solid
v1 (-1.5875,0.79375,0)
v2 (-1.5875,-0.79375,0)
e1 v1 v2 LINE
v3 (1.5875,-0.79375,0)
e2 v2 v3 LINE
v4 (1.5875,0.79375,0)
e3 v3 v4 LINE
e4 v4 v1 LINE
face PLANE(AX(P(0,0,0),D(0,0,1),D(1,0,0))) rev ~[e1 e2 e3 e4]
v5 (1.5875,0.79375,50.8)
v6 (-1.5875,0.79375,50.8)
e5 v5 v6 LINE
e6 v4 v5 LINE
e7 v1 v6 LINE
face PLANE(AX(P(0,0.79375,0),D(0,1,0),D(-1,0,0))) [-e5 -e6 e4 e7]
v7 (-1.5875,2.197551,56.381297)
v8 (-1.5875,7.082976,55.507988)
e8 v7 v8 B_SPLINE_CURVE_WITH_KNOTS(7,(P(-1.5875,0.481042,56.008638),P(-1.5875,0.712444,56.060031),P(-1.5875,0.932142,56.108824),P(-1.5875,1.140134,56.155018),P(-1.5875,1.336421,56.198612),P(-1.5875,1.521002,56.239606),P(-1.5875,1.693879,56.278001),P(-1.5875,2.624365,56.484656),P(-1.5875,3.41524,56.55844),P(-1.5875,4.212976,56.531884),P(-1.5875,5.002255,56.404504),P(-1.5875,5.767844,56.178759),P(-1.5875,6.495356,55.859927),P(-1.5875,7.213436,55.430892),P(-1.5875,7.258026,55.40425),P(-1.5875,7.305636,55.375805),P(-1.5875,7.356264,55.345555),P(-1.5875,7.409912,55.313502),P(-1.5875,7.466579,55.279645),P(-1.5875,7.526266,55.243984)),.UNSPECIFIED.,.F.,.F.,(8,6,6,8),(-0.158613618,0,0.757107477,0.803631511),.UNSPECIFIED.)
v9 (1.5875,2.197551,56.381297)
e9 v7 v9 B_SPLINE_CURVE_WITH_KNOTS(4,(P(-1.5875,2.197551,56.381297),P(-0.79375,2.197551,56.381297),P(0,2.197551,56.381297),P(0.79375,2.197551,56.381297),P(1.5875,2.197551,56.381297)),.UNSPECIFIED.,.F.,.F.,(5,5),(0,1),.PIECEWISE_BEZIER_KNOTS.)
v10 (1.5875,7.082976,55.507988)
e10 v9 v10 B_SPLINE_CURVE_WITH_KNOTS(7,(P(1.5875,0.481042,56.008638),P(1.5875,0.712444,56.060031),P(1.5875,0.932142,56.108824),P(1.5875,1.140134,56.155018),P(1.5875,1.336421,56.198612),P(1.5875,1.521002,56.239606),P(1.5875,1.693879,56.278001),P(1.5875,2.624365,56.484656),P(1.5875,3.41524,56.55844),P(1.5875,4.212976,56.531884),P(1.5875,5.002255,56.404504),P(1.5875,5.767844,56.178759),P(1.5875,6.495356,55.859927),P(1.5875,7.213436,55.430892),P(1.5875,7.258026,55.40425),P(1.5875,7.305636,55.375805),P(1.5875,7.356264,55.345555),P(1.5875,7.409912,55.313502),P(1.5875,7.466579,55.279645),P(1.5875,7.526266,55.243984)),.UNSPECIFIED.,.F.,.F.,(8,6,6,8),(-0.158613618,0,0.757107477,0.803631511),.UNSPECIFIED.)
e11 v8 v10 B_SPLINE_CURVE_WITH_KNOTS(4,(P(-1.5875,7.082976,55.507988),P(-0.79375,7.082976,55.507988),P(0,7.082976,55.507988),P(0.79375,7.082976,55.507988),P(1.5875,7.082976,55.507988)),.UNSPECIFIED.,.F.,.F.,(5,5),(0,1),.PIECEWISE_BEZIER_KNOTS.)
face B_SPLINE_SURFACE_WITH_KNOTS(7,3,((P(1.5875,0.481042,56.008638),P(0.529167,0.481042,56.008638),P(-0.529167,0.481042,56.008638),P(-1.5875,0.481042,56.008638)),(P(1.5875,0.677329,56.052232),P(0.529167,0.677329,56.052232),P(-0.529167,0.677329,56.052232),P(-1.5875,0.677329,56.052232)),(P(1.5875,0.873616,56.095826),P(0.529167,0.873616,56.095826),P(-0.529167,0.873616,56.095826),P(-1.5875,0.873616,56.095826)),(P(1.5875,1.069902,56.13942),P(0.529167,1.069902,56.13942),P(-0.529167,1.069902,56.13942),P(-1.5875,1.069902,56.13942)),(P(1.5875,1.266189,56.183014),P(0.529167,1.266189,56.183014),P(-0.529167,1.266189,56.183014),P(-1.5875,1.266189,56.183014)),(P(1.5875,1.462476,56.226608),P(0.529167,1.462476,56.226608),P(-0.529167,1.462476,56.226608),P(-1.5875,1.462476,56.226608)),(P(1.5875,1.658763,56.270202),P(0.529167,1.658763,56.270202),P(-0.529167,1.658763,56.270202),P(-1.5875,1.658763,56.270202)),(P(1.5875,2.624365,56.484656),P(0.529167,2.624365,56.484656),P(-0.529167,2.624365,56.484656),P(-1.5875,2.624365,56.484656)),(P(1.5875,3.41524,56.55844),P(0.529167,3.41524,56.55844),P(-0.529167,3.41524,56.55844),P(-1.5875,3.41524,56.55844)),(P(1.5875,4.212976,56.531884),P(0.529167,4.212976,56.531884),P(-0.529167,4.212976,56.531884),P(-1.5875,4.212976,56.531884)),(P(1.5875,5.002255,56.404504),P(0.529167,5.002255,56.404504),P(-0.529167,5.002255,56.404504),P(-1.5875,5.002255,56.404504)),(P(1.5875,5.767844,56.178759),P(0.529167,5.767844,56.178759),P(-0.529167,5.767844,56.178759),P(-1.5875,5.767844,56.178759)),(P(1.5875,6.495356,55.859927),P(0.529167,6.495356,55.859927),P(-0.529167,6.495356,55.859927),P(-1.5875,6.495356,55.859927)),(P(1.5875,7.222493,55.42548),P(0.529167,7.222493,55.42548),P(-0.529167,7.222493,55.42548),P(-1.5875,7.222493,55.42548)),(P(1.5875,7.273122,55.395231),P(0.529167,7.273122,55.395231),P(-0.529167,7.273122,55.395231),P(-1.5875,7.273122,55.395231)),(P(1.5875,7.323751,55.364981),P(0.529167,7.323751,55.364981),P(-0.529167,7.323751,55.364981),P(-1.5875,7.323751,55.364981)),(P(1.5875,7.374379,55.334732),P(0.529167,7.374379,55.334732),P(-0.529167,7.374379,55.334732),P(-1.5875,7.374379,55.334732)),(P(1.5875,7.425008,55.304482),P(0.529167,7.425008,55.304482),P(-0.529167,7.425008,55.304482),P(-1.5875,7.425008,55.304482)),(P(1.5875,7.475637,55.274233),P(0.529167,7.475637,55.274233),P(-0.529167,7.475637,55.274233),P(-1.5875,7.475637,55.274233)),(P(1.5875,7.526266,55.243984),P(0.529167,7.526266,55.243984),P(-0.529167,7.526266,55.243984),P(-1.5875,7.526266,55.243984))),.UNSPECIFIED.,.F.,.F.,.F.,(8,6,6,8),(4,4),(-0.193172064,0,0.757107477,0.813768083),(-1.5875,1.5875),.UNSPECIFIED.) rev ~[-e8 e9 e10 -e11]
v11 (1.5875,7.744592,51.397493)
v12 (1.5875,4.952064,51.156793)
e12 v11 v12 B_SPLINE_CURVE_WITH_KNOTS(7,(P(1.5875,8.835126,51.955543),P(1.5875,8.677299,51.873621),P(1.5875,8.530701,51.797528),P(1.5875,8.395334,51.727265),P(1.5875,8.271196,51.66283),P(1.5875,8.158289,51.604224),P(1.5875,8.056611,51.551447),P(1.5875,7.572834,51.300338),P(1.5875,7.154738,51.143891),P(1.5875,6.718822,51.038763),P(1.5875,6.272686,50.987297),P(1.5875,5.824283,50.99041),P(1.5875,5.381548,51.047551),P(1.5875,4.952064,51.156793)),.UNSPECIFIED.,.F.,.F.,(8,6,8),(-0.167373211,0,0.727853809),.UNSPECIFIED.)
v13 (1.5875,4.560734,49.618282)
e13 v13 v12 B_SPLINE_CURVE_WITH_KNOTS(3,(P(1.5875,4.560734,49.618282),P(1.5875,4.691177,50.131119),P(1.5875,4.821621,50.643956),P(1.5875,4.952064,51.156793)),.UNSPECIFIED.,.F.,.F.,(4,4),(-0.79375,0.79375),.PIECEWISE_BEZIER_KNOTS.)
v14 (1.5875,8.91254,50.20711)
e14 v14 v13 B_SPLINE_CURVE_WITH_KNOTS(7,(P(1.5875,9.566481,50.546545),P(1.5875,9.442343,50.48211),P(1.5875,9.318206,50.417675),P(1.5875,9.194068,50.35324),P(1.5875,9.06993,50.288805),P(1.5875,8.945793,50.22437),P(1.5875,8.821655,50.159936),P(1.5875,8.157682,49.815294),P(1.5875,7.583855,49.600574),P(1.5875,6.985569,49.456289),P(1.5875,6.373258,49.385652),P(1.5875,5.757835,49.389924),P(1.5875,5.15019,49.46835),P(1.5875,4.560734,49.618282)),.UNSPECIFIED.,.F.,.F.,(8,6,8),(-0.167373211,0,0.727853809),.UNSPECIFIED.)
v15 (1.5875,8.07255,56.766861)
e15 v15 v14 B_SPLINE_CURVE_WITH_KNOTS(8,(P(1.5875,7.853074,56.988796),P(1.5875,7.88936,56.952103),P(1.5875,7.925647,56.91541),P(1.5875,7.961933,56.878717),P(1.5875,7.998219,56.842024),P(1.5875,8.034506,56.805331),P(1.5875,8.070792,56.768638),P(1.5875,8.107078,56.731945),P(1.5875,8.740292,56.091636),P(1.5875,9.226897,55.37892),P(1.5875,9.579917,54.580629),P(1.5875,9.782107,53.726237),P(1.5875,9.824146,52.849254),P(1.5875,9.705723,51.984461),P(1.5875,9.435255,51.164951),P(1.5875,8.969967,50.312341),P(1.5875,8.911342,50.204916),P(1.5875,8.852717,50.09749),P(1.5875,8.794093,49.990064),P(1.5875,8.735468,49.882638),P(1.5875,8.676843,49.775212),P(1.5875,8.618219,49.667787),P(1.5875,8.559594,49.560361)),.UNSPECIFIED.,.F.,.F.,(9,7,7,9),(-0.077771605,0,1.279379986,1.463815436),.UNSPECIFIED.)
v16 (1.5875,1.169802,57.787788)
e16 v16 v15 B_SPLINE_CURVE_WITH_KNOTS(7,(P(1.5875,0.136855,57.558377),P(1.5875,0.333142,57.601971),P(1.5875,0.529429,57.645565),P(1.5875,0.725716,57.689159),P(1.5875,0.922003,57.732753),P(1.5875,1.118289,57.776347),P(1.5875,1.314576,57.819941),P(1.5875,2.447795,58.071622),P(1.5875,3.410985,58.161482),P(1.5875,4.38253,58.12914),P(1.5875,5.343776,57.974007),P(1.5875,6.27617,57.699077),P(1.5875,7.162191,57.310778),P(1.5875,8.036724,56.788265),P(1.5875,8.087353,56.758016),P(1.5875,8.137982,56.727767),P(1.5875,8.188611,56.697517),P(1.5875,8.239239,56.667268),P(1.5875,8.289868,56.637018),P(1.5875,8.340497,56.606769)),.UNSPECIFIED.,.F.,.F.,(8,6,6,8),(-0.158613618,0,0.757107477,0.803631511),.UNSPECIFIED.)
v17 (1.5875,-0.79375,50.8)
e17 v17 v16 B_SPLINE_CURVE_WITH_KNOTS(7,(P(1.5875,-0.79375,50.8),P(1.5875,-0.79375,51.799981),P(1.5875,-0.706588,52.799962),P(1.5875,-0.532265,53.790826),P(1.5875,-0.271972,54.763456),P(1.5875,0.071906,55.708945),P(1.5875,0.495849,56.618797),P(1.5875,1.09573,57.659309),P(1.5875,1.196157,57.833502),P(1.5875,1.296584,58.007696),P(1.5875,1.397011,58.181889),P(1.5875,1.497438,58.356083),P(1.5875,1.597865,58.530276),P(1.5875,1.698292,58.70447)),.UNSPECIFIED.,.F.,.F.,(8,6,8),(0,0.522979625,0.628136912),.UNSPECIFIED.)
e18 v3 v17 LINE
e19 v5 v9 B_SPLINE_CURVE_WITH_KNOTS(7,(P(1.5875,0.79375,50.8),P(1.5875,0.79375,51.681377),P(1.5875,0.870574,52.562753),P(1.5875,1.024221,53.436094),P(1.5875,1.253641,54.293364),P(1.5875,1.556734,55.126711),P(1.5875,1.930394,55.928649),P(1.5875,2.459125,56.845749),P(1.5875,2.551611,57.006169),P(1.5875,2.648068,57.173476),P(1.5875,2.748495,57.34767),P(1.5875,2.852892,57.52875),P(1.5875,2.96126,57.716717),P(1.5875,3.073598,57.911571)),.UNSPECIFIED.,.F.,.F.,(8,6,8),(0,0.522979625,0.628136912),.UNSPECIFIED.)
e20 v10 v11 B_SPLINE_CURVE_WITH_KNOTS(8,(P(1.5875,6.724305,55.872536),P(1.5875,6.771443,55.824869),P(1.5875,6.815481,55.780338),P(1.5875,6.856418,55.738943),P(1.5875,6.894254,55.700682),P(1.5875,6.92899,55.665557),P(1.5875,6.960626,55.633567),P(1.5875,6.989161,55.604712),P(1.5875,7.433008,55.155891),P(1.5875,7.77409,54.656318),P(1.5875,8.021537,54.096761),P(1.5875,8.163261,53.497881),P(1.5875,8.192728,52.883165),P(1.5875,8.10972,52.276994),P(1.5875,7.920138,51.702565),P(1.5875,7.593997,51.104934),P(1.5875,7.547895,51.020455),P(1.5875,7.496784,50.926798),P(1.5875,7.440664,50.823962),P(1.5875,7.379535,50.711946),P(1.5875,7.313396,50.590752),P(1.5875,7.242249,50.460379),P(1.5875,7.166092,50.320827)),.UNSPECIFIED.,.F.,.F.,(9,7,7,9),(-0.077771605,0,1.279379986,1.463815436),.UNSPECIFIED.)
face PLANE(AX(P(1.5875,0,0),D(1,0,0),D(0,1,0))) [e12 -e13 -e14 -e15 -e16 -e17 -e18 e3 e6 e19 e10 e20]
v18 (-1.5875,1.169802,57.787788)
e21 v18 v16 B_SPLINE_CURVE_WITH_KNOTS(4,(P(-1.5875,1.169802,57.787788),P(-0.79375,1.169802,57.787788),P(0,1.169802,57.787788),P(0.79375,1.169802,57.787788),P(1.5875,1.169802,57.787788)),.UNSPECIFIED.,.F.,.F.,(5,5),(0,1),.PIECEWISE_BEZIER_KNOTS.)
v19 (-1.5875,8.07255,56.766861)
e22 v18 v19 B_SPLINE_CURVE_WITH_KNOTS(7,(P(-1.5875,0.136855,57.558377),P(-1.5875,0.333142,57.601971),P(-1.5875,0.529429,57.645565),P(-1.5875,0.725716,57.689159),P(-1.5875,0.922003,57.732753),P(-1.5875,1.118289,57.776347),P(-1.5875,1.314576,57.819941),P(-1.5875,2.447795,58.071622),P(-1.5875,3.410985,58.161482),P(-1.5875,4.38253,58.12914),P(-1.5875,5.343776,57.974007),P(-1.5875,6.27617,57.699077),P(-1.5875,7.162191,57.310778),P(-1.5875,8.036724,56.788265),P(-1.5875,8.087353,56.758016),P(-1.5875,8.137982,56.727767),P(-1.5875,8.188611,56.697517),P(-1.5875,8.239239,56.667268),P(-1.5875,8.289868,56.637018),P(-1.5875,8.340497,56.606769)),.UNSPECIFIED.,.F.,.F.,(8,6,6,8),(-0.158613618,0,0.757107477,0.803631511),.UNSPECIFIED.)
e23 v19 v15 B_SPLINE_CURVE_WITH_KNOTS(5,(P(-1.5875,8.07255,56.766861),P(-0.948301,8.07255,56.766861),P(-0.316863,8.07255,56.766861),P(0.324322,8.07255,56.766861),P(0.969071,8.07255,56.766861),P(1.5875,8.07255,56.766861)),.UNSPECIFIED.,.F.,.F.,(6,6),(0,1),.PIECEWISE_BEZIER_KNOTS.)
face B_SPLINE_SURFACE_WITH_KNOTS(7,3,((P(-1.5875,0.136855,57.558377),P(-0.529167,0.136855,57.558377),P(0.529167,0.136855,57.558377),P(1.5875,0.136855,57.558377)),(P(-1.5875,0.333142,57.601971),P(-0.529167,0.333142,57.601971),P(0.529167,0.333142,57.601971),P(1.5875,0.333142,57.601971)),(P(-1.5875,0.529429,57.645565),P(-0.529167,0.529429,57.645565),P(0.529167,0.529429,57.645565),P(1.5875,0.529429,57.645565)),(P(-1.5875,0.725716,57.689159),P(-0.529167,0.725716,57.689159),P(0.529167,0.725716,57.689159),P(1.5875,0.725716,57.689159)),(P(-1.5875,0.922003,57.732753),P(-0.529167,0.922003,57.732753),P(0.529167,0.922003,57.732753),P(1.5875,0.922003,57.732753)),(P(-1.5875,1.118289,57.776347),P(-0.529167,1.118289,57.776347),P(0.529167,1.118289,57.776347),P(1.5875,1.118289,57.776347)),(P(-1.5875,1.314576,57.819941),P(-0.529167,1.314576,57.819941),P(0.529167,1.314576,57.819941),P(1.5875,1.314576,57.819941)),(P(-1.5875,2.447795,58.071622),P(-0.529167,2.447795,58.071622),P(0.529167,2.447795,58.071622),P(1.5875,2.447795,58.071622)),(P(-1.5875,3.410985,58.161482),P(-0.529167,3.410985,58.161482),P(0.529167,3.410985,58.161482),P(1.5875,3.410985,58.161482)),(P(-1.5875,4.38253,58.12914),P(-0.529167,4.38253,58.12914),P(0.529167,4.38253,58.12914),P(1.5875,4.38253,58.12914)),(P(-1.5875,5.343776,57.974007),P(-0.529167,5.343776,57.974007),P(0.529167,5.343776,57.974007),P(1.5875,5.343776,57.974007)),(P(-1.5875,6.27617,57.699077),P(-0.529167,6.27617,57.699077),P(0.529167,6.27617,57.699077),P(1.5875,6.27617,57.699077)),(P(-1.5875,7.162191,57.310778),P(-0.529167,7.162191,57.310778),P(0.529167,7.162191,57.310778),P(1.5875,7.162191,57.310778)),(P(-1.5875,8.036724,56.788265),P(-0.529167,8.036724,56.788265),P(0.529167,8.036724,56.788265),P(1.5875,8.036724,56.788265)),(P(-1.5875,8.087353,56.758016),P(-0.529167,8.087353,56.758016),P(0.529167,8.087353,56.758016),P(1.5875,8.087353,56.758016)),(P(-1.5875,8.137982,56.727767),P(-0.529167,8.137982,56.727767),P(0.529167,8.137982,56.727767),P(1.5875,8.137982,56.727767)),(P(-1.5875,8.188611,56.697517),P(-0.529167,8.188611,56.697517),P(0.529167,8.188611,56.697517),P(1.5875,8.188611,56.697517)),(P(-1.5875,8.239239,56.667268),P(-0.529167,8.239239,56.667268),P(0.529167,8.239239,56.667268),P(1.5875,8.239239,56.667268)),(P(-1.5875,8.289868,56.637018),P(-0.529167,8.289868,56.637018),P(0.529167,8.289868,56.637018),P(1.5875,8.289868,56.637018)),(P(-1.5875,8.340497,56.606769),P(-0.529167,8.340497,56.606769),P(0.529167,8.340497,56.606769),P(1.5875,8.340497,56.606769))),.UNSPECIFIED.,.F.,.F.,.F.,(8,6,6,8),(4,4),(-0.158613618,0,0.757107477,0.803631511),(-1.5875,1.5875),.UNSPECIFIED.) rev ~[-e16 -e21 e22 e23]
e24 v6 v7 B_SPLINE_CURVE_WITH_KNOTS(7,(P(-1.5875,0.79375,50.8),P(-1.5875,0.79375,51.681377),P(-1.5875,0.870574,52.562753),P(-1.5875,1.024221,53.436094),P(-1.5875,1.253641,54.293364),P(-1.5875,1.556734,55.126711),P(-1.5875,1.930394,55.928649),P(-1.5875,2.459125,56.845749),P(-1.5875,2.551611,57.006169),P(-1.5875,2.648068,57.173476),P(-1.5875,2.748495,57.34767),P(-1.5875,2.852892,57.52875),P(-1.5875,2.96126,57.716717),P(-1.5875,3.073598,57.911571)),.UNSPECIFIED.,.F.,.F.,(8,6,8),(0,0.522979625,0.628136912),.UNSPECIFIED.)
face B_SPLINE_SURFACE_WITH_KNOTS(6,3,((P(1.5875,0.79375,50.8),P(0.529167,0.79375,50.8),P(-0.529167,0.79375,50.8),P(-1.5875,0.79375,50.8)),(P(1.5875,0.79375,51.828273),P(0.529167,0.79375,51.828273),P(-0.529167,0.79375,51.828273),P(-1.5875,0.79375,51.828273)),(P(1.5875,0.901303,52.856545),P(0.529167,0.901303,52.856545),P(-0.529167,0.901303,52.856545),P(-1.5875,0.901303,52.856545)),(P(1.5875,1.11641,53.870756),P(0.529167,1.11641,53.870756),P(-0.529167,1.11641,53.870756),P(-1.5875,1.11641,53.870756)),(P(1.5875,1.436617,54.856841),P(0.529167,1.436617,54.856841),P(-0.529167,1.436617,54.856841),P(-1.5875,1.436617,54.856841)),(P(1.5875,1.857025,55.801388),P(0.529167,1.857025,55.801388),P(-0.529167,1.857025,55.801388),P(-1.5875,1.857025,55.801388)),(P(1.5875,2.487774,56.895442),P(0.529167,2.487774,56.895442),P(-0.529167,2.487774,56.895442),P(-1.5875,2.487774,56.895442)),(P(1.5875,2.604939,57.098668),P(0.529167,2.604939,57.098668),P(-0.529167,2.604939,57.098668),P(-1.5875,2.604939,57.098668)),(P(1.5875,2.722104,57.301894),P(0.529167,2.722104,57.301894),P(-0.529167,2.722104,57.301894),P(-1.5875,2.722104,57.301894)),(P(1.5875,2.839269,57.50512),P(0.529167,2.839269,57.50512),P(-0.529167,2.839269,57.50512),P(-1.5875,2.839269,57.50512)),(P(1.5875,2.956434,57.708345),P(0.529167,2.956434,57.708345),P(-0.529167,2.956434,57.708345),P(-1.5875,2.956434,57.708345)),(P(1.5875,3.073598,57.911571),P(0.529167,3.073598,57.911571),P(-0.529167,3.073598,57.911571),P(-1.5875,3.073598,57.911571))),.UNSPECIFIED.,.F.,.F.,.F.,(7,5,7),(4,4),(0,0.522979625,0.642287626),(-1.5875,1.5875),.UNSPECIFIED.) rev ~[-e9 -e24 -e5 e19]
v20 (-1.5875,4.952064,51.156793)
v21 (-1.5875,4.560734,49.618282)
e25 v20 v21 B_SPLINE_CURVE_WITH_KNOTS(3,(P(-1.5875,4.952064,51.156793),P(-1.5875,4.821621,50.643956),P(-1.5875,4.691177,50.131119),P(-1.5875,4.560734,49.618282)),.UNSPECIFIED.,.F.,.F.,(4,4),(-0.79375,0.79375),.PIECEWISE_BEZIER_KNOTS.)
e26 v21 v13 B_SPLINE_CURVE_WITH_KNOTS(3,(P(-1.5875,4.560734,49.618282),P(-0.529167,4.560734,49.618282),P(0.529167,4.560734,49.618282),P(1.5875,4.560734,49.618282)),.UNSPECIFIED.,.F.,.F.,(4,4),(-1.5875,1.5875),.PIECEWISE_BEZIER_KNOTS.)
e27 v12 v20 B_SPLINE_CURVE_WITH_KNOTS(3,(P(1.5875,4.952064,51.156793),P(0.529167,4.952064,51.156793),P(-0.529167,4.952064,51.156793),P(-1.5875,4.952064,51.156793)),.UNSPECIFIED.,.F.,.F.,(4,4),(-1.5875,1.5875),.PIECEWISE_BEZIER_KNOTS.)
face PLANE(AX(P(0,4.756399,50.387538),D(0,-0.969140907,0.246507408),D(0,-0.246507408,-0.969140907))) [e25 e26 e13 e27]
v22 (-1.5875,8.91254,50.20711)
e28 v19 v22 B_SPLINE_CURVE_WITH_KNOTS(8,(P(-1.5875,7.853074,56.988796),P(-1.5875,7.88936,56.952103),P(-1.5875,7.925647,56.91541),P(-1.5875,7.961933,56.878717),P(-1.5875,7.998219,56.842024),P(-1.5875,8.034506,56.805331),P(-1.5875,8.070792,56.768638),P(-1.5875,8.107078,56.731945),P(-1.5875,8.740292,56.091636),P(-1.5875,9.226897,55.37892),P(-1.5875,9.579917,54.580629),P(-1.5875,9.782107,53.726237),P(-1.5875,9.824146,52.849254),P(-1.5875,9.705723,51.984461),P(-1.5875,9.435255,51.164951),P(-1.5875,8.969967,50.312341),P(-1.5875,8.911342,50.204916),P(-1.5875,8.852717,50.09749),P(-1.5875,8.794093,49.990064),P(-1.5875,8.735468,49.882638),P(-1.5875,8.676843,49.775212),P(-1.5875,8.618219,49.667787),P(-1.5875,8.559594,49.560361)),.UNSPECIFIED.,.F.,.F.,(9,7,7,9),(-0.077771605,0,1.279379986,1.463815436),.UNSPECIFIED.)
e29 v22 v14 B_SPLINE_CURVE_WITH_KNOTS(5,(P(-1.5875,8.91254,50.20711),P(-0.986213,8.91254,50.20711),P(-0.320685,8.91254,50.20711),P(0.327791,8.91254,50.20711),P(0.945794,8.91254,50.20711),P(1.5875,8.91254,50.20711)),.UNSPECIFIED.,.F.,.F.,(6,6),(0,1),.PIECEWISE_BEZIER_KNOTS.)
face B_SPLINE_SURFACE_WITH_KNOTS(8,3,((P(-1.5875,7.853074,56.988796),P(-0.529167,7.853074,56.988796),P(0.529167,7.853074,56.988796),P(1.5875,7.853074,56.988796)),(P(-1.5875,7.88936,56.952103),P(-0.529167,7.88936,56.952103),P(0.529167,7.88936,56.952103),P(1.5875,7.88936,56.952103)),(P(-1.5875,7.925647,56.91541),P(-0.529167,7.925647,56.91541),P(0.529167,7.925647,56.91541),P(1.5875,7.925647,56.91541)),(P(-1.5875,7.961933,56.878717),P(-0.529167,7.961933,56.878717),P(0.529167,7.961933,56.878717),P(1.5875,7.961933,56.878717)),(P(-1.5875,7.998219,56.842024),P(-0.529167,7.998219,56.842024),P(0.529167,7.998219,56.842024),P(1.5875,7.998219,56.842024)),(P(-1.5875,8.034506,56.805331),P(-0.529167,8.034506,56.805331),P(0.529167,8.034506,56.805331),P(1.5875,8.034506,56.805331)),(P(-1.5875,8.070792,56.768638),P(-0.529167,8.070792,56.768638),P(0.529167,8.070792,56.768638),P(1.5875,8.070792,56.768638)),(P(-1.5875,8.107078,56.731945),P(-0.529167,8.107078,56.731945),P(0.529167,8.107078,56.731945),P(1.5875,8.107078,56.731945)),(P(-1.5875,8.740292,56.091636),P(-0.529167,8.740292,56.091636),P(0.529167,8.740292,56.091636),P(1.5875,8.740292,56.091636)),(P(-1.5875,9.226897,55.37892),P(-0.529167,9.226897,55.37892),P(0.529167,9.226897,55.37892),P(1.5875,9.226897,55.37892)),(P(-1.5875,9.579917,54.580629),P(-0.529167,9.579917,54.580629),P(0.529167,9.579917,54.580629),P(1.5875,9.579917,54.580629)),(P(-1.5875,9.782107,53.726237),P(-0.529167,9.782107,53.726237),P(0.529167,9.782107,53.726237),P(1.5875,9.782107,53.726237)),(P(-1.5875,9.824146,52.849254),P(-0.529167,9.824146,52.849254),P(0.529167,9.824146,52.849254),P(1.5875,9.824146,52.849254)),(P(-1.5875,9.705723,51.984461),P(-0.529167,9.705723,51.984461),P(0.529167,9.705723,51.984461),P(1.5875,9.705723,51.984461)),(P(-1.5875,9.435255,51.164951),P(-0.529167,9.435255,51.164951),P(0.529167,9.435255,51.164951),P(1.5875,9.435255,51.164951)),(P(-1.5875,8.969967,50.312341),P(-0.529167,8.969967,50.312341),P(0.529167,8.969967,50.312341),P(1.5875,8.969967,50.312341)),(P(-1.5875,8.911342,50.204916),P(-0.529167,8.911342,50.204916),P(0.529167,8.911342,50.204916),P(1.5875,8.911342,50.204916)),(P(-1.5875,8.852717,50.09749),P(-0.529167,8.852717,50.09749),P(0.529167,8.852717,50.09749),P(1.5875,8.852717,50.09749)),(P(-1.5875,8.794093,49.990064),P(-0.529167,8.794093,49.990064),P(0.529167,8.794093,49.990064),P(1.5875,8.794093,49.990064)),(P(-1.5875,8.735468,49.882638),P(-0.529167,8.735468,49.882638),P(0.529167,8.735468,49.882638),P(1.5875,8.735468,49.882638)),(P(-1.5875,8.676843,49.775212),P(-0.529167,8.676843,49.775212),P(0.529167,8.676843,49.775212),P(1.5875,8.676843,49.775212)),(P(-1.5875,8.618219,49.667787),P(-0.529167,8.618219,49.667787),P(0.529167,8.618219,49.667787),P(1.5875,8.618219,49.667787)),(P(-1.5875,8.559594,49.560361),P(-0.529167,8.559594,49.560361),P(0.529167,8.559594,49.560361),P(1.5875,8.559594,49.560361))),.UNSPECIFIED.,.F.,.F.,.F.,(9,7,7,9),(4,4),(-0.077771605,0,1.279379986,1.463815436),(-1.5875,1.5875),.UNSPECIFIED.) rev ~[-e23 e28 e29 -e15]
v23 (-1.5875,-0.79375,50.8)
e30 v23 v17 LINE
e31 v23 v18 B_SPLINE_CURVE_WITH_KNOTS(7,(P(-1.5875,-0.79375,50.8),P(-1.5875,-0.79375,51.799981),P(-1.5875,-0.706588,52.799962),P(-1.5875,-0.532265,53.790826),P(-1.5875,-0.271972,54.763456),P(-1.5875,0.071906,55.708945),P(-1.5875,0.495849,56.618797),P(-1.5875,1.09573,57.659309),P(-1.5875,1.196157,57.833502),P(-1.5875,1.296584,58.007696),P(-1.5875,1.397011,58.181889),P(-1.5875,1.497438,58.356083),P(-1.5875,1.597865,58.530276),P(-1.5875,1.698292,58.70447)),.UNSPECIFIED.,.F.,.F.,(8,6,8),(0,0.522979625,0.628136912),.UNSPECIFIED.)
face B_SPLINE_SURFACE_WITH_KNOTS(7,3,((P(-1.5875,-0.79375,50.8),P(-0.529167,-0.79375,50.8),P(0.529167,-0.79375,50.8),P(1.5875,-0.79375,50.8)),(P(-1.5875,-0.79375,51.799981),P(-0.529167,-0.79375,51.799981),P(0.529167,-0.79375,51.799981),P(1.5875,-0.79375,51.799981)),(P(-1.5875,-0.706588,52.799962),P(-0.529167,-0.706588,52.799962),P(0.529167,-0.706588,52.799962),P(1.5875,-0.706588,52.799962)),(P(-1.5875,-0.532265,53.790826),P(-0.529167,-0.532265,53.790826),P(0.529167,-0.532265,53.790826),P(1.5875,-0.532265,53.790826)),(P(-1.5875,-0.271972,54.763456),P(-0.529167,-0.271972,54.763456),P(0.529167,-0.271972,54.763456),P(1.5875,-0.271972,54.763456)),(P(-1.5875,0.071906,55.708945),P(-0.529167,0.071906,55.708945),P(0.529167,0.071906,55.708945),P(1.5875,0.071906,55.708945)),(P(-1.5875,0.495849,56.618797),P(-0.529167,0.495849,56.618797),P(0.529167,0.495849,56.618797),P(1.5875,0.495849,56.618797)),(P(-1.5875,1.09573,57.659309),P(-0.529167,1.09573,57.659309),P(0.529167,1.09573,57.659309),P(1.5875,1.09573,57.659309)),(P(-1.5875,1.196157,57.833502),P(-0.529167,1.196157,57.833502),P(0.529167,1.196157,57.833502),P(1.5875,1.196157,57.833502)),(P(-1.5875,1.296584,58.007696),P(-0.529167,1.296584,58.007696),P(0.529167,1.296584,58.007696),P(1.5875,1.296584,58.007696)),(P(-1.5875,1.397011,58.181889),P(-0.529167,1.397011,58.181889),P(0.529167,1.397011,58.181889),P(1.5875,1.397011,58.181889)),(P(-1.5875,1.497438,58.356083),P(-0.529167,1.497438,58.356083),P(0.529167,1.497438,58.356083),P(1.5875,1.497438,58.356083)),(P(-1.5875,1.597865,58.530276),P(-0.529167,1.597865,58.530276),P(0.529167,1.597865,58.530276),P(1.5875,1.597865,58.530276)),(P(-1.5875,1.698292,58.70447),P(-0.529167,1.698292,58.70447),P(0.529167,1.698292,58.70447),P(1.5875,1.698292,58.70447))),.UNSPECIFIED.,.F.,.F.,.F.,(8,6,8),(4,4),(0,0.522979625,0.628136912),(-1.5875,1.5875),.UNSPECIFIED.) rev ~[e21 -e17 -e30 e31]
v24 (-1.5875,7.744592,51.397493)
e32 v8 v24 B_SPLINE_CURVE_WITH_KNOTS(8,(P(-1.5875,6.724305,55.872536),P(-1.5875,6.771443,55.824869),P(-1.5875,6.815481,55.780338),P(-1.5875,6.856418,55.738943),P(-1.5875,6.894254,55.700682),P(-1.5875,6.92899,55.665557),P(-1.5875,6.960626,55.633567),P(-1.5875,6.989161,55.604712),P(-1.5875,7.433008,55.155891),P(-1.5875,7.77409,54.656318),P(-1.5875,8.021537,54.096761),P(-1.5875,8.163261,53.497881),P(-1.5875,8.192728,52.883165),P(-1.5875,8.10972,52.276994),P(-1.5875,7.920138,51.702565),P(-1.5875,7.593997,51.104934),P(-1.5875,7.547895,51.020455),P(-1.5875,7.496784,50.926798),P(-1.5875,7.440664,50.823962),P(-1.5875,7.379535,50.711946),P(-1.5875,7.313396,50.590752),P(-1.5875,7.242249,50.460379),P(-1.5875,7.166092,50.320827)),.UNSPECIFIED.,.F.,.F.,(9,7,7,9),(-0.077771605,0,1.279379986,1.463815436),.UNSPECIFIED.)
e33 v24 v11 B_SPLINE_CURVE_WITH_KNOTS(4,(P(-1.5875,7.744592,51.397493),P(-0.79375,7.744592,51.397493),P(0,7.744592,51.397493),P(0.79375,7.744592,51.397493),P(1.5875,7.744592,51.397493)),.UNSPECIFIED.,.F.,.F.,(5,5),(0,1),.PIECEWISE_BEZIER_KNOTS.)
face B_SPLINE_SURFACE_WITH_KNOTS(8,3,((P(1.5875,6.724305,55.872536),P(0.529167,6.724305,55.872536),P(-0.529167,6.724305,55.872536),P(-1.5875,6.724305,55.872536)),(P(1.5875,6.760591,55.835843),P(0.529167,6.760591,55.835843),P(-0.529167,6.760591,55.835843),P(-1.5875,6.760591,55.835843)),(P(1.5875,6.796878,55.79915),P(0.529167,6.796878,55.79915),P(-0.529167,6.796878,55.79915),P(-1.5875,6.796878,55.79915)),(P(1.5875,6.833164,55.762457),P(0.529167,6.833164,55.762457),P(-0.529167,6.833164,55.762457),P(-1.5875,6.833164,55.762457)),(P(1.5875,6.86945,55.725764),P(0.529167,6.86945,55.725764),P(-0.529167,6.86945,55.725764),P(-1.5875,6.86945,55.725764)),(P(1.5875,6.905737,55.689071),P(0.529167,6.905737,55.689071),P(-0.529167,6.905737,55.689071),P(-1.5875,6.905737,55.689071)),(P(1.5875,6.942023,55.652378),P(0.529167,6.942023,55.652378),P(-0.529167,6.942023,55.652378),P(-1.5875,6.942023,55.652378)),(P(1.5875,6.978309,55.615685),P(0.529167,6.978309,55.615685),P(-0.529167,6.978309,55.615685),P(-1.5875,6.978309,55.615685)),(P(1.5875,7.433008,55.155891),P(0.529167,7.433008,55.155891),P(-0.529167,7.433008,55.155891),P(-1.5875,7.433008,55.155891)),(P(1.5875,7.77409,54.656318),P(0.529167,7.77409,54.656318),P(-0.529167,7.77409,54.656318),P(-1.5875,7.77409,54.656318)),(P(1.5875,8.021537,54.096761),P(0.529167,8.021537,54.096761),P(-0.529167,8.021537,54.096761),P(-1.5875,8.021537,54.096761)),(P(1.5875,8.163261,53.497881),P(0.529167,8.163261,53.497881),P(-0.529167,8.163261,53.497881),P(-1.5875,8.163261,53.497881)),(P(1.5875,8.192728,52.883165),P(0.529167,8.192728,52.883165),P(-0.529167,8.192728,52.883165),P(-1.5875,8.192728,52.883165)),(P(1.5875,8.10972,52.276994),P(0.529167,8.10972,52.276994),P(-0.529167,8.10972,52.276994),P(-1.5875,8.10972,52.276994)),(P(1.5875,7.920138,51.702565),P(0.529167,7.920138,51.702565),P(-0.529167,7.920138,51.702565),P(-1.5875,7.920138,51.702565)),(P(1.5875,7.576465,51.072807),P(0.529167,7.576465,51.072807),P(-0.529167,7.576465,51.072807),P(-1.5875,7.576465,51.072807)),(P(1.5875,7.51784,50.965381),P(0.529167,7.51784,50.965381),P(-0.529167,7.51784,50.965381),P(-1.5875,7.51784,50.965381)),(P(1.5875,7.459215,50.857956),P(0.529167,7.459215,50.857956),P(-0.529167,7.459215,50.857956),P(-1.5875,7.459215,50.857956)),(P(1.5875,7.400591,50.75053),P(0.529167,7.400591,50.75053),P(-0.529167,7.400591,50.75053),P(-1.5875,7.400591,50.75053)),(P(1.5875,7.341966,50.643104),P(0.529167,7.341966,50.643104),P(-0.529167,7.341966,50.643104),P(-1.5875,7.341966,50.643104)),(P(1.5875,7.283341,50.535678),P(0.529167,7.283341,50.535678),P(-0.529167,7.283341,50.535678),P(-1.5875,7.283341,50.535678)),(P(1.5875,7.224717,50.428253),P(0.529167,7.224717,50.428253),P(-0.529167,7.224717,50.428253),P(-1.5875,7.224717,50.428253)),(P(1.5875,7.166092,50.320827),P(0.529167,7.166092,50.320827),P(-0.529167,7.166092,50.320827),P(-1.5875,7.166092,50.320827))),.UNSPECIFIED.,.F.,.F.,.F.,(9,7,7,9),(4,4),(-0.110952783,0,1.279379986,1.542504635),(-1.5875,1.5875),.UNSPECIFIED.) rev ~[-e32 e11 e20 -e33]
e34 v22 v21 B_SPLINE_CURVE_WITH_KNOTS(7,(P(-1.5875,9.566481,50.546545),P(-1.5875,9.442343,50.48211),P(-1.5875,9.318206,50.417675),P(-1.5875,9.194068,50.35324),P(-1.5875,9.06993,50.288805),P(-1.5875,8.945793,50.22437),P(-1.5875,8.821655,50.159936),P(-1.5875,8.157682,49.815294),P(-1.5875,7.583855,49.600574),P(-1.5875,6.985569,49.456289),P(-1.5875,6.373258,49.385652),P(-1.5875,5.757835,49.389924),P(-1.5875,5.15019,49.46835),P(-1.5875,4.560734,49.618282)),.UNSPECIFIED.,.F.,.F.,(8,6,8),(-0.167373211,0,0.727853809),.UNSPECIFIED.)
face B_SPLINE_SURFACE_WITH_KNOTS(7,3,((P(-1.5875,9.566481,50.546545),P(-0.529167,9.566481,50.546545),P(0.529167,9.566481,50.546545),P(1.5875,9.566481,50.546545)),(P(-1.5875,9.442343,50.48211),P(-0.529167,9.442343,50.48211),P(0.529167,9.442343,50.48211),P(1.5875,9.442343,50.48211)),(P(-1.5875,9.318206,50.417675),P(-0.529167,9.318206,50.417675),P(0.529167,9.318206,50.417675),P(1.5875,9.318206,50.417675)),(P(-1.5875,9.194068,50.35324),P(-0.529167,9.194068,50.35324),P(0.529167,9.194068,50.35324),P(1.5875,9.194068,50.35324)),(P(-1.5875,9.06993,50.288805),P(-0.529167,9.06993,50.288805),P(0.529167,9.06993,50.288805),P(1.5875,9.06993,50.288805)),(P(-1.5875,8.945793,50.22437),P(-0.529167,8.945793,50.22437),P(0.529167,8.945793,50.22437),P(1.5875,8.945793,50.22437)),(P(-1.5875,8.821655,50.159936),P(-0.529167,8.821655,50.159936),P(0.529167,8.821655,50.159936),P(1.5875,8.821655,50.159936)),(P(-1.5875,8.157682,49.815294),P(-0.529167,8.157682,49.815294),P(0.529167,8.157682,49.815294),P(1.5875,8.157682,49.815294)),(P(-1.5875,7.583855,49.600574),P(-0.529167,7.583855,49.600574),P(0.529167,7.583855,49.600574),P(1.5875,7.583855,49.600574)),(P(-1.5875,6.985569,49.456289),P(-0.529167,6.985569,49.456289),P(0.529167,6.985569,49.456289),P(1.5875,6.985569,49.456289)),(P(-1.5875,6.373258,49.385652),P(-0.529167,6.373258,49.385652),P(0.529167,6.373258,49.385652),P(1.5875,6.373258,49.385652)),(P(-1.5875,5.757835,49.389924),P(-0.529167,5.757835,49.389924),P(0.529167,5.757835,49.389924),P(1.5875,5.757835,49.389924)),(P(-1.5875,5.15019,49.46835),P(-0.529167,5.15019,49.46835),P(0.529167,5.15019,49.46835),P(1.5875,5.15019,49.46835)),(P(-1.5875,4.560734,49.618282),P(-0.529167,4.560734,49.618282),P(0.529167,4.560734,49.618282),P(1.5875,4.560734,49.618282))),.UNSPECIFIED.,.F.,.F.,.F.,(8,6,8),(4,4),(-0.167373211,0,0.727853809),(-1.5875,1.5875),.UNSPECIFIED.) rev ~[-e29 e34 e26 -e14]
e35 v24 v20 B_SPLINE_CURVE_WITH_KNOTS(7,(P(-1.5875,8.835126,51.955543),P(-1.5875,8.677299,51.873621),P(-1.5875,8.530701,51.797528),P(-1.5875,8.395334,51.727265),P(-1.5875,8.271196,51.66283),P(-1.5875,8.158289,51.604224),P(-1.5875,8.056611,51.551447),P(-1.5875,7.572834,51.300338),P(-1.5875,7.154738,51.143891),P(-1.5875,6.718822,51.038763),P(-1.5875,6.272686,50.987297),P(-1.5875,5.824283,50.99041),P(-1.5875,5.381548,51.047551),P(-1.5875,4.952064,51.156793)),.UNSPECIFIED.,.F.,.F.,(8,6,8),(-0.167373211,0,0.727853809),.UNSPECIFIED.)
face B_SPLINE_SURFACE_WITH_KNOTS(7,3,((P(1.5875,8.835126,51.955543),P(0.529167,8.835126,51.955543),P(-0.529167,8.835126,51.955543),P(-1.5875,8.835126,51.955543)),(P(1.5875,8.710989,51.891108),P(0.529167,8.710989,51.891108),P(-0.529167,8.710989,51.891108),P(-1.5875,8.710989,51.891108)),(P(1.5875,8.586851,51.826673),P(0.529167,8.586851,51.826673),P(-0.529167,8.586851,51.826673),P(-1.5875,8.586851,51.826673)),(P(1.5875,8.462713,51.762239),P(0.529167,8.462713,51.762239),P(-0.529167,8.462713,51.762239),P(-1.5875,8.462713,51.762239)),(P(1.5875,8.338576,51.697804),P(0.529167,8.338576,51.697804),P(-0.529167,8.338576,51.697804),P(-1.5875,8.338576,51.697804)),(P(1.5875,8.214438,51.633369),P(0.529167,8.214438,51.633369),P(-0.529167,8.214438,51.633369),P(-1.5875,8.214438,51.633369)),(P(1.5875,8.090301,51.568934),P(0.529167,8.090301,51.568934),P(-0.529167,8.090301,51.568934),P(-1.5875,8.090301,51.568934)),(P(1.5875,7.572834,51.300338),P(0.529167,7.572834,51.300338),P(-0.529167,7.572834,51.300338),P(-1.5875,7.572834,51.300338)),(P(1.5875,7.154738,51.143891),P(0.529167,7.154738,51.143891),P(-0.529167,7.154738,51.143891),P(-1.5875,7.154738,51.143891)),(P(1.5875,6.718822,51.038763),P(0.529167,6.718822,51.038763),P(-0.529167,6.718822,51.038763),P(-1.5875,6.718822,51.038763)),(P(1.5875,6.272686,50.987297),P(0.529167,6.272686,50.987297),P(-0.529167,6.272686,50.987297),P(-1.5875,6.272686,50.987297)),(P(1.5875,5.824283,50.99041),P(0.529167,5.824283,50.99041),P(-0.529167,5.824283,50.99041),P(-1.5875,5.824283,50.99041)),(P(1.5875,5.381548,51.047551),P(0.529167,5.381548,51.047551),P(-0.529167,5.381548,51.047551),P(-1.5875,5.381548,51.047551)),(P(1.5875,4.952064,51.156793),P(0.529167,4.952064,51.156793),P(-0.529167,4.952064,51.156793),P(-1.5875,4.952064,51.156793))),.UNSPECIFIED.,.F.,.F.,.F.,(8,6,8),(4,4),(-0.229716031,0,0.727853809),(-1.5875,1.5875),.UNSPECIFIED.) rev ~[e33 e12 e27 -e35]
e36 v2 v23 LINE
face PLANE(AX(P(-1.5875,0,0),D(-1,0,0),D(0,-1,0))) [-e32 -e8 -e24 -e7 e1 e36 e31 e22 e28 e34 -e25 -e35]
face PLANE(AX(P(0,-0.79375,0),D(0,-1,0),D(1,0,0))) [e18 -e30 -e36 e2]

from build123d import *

# Parameters (mm, degrees)
F0_W = 3.175
F0_H = 1.5875


with BuildPart() as f2:
    # F2: sweep along a path in F1
    with BuildLine(Plane.YZ) as f2_path:
        Line((0, 0), (0, 50.8))
        ThreePointArc((0, 50.8), (0.4280140937, 54.0549830382), (1.6829564702, 57.0886656642))
        ThreePointArc((1.6829564702, 57.0886656642), (4.7221119441, 57.1776447605), (7.5789801776, 56.1371222138))
        ThreePointArc((7.5789801776, 56.1371222138), (8.8392841167, 53.5932413011), (8.331840375, 50.8))
        ThreePointArc((8.331840375, 50.8), (6.5820659855, 50.2648305913), (4.7563990811, 50.3875378201))
    # F0 (on Top) → F2 (sweep)
    with BuildSketch(Plane.XY):
        Rectangle(F0_W, F0_H)
    sweep(path=f2_path.line, transition=Transition.RIGHT)


solid = f2.part
